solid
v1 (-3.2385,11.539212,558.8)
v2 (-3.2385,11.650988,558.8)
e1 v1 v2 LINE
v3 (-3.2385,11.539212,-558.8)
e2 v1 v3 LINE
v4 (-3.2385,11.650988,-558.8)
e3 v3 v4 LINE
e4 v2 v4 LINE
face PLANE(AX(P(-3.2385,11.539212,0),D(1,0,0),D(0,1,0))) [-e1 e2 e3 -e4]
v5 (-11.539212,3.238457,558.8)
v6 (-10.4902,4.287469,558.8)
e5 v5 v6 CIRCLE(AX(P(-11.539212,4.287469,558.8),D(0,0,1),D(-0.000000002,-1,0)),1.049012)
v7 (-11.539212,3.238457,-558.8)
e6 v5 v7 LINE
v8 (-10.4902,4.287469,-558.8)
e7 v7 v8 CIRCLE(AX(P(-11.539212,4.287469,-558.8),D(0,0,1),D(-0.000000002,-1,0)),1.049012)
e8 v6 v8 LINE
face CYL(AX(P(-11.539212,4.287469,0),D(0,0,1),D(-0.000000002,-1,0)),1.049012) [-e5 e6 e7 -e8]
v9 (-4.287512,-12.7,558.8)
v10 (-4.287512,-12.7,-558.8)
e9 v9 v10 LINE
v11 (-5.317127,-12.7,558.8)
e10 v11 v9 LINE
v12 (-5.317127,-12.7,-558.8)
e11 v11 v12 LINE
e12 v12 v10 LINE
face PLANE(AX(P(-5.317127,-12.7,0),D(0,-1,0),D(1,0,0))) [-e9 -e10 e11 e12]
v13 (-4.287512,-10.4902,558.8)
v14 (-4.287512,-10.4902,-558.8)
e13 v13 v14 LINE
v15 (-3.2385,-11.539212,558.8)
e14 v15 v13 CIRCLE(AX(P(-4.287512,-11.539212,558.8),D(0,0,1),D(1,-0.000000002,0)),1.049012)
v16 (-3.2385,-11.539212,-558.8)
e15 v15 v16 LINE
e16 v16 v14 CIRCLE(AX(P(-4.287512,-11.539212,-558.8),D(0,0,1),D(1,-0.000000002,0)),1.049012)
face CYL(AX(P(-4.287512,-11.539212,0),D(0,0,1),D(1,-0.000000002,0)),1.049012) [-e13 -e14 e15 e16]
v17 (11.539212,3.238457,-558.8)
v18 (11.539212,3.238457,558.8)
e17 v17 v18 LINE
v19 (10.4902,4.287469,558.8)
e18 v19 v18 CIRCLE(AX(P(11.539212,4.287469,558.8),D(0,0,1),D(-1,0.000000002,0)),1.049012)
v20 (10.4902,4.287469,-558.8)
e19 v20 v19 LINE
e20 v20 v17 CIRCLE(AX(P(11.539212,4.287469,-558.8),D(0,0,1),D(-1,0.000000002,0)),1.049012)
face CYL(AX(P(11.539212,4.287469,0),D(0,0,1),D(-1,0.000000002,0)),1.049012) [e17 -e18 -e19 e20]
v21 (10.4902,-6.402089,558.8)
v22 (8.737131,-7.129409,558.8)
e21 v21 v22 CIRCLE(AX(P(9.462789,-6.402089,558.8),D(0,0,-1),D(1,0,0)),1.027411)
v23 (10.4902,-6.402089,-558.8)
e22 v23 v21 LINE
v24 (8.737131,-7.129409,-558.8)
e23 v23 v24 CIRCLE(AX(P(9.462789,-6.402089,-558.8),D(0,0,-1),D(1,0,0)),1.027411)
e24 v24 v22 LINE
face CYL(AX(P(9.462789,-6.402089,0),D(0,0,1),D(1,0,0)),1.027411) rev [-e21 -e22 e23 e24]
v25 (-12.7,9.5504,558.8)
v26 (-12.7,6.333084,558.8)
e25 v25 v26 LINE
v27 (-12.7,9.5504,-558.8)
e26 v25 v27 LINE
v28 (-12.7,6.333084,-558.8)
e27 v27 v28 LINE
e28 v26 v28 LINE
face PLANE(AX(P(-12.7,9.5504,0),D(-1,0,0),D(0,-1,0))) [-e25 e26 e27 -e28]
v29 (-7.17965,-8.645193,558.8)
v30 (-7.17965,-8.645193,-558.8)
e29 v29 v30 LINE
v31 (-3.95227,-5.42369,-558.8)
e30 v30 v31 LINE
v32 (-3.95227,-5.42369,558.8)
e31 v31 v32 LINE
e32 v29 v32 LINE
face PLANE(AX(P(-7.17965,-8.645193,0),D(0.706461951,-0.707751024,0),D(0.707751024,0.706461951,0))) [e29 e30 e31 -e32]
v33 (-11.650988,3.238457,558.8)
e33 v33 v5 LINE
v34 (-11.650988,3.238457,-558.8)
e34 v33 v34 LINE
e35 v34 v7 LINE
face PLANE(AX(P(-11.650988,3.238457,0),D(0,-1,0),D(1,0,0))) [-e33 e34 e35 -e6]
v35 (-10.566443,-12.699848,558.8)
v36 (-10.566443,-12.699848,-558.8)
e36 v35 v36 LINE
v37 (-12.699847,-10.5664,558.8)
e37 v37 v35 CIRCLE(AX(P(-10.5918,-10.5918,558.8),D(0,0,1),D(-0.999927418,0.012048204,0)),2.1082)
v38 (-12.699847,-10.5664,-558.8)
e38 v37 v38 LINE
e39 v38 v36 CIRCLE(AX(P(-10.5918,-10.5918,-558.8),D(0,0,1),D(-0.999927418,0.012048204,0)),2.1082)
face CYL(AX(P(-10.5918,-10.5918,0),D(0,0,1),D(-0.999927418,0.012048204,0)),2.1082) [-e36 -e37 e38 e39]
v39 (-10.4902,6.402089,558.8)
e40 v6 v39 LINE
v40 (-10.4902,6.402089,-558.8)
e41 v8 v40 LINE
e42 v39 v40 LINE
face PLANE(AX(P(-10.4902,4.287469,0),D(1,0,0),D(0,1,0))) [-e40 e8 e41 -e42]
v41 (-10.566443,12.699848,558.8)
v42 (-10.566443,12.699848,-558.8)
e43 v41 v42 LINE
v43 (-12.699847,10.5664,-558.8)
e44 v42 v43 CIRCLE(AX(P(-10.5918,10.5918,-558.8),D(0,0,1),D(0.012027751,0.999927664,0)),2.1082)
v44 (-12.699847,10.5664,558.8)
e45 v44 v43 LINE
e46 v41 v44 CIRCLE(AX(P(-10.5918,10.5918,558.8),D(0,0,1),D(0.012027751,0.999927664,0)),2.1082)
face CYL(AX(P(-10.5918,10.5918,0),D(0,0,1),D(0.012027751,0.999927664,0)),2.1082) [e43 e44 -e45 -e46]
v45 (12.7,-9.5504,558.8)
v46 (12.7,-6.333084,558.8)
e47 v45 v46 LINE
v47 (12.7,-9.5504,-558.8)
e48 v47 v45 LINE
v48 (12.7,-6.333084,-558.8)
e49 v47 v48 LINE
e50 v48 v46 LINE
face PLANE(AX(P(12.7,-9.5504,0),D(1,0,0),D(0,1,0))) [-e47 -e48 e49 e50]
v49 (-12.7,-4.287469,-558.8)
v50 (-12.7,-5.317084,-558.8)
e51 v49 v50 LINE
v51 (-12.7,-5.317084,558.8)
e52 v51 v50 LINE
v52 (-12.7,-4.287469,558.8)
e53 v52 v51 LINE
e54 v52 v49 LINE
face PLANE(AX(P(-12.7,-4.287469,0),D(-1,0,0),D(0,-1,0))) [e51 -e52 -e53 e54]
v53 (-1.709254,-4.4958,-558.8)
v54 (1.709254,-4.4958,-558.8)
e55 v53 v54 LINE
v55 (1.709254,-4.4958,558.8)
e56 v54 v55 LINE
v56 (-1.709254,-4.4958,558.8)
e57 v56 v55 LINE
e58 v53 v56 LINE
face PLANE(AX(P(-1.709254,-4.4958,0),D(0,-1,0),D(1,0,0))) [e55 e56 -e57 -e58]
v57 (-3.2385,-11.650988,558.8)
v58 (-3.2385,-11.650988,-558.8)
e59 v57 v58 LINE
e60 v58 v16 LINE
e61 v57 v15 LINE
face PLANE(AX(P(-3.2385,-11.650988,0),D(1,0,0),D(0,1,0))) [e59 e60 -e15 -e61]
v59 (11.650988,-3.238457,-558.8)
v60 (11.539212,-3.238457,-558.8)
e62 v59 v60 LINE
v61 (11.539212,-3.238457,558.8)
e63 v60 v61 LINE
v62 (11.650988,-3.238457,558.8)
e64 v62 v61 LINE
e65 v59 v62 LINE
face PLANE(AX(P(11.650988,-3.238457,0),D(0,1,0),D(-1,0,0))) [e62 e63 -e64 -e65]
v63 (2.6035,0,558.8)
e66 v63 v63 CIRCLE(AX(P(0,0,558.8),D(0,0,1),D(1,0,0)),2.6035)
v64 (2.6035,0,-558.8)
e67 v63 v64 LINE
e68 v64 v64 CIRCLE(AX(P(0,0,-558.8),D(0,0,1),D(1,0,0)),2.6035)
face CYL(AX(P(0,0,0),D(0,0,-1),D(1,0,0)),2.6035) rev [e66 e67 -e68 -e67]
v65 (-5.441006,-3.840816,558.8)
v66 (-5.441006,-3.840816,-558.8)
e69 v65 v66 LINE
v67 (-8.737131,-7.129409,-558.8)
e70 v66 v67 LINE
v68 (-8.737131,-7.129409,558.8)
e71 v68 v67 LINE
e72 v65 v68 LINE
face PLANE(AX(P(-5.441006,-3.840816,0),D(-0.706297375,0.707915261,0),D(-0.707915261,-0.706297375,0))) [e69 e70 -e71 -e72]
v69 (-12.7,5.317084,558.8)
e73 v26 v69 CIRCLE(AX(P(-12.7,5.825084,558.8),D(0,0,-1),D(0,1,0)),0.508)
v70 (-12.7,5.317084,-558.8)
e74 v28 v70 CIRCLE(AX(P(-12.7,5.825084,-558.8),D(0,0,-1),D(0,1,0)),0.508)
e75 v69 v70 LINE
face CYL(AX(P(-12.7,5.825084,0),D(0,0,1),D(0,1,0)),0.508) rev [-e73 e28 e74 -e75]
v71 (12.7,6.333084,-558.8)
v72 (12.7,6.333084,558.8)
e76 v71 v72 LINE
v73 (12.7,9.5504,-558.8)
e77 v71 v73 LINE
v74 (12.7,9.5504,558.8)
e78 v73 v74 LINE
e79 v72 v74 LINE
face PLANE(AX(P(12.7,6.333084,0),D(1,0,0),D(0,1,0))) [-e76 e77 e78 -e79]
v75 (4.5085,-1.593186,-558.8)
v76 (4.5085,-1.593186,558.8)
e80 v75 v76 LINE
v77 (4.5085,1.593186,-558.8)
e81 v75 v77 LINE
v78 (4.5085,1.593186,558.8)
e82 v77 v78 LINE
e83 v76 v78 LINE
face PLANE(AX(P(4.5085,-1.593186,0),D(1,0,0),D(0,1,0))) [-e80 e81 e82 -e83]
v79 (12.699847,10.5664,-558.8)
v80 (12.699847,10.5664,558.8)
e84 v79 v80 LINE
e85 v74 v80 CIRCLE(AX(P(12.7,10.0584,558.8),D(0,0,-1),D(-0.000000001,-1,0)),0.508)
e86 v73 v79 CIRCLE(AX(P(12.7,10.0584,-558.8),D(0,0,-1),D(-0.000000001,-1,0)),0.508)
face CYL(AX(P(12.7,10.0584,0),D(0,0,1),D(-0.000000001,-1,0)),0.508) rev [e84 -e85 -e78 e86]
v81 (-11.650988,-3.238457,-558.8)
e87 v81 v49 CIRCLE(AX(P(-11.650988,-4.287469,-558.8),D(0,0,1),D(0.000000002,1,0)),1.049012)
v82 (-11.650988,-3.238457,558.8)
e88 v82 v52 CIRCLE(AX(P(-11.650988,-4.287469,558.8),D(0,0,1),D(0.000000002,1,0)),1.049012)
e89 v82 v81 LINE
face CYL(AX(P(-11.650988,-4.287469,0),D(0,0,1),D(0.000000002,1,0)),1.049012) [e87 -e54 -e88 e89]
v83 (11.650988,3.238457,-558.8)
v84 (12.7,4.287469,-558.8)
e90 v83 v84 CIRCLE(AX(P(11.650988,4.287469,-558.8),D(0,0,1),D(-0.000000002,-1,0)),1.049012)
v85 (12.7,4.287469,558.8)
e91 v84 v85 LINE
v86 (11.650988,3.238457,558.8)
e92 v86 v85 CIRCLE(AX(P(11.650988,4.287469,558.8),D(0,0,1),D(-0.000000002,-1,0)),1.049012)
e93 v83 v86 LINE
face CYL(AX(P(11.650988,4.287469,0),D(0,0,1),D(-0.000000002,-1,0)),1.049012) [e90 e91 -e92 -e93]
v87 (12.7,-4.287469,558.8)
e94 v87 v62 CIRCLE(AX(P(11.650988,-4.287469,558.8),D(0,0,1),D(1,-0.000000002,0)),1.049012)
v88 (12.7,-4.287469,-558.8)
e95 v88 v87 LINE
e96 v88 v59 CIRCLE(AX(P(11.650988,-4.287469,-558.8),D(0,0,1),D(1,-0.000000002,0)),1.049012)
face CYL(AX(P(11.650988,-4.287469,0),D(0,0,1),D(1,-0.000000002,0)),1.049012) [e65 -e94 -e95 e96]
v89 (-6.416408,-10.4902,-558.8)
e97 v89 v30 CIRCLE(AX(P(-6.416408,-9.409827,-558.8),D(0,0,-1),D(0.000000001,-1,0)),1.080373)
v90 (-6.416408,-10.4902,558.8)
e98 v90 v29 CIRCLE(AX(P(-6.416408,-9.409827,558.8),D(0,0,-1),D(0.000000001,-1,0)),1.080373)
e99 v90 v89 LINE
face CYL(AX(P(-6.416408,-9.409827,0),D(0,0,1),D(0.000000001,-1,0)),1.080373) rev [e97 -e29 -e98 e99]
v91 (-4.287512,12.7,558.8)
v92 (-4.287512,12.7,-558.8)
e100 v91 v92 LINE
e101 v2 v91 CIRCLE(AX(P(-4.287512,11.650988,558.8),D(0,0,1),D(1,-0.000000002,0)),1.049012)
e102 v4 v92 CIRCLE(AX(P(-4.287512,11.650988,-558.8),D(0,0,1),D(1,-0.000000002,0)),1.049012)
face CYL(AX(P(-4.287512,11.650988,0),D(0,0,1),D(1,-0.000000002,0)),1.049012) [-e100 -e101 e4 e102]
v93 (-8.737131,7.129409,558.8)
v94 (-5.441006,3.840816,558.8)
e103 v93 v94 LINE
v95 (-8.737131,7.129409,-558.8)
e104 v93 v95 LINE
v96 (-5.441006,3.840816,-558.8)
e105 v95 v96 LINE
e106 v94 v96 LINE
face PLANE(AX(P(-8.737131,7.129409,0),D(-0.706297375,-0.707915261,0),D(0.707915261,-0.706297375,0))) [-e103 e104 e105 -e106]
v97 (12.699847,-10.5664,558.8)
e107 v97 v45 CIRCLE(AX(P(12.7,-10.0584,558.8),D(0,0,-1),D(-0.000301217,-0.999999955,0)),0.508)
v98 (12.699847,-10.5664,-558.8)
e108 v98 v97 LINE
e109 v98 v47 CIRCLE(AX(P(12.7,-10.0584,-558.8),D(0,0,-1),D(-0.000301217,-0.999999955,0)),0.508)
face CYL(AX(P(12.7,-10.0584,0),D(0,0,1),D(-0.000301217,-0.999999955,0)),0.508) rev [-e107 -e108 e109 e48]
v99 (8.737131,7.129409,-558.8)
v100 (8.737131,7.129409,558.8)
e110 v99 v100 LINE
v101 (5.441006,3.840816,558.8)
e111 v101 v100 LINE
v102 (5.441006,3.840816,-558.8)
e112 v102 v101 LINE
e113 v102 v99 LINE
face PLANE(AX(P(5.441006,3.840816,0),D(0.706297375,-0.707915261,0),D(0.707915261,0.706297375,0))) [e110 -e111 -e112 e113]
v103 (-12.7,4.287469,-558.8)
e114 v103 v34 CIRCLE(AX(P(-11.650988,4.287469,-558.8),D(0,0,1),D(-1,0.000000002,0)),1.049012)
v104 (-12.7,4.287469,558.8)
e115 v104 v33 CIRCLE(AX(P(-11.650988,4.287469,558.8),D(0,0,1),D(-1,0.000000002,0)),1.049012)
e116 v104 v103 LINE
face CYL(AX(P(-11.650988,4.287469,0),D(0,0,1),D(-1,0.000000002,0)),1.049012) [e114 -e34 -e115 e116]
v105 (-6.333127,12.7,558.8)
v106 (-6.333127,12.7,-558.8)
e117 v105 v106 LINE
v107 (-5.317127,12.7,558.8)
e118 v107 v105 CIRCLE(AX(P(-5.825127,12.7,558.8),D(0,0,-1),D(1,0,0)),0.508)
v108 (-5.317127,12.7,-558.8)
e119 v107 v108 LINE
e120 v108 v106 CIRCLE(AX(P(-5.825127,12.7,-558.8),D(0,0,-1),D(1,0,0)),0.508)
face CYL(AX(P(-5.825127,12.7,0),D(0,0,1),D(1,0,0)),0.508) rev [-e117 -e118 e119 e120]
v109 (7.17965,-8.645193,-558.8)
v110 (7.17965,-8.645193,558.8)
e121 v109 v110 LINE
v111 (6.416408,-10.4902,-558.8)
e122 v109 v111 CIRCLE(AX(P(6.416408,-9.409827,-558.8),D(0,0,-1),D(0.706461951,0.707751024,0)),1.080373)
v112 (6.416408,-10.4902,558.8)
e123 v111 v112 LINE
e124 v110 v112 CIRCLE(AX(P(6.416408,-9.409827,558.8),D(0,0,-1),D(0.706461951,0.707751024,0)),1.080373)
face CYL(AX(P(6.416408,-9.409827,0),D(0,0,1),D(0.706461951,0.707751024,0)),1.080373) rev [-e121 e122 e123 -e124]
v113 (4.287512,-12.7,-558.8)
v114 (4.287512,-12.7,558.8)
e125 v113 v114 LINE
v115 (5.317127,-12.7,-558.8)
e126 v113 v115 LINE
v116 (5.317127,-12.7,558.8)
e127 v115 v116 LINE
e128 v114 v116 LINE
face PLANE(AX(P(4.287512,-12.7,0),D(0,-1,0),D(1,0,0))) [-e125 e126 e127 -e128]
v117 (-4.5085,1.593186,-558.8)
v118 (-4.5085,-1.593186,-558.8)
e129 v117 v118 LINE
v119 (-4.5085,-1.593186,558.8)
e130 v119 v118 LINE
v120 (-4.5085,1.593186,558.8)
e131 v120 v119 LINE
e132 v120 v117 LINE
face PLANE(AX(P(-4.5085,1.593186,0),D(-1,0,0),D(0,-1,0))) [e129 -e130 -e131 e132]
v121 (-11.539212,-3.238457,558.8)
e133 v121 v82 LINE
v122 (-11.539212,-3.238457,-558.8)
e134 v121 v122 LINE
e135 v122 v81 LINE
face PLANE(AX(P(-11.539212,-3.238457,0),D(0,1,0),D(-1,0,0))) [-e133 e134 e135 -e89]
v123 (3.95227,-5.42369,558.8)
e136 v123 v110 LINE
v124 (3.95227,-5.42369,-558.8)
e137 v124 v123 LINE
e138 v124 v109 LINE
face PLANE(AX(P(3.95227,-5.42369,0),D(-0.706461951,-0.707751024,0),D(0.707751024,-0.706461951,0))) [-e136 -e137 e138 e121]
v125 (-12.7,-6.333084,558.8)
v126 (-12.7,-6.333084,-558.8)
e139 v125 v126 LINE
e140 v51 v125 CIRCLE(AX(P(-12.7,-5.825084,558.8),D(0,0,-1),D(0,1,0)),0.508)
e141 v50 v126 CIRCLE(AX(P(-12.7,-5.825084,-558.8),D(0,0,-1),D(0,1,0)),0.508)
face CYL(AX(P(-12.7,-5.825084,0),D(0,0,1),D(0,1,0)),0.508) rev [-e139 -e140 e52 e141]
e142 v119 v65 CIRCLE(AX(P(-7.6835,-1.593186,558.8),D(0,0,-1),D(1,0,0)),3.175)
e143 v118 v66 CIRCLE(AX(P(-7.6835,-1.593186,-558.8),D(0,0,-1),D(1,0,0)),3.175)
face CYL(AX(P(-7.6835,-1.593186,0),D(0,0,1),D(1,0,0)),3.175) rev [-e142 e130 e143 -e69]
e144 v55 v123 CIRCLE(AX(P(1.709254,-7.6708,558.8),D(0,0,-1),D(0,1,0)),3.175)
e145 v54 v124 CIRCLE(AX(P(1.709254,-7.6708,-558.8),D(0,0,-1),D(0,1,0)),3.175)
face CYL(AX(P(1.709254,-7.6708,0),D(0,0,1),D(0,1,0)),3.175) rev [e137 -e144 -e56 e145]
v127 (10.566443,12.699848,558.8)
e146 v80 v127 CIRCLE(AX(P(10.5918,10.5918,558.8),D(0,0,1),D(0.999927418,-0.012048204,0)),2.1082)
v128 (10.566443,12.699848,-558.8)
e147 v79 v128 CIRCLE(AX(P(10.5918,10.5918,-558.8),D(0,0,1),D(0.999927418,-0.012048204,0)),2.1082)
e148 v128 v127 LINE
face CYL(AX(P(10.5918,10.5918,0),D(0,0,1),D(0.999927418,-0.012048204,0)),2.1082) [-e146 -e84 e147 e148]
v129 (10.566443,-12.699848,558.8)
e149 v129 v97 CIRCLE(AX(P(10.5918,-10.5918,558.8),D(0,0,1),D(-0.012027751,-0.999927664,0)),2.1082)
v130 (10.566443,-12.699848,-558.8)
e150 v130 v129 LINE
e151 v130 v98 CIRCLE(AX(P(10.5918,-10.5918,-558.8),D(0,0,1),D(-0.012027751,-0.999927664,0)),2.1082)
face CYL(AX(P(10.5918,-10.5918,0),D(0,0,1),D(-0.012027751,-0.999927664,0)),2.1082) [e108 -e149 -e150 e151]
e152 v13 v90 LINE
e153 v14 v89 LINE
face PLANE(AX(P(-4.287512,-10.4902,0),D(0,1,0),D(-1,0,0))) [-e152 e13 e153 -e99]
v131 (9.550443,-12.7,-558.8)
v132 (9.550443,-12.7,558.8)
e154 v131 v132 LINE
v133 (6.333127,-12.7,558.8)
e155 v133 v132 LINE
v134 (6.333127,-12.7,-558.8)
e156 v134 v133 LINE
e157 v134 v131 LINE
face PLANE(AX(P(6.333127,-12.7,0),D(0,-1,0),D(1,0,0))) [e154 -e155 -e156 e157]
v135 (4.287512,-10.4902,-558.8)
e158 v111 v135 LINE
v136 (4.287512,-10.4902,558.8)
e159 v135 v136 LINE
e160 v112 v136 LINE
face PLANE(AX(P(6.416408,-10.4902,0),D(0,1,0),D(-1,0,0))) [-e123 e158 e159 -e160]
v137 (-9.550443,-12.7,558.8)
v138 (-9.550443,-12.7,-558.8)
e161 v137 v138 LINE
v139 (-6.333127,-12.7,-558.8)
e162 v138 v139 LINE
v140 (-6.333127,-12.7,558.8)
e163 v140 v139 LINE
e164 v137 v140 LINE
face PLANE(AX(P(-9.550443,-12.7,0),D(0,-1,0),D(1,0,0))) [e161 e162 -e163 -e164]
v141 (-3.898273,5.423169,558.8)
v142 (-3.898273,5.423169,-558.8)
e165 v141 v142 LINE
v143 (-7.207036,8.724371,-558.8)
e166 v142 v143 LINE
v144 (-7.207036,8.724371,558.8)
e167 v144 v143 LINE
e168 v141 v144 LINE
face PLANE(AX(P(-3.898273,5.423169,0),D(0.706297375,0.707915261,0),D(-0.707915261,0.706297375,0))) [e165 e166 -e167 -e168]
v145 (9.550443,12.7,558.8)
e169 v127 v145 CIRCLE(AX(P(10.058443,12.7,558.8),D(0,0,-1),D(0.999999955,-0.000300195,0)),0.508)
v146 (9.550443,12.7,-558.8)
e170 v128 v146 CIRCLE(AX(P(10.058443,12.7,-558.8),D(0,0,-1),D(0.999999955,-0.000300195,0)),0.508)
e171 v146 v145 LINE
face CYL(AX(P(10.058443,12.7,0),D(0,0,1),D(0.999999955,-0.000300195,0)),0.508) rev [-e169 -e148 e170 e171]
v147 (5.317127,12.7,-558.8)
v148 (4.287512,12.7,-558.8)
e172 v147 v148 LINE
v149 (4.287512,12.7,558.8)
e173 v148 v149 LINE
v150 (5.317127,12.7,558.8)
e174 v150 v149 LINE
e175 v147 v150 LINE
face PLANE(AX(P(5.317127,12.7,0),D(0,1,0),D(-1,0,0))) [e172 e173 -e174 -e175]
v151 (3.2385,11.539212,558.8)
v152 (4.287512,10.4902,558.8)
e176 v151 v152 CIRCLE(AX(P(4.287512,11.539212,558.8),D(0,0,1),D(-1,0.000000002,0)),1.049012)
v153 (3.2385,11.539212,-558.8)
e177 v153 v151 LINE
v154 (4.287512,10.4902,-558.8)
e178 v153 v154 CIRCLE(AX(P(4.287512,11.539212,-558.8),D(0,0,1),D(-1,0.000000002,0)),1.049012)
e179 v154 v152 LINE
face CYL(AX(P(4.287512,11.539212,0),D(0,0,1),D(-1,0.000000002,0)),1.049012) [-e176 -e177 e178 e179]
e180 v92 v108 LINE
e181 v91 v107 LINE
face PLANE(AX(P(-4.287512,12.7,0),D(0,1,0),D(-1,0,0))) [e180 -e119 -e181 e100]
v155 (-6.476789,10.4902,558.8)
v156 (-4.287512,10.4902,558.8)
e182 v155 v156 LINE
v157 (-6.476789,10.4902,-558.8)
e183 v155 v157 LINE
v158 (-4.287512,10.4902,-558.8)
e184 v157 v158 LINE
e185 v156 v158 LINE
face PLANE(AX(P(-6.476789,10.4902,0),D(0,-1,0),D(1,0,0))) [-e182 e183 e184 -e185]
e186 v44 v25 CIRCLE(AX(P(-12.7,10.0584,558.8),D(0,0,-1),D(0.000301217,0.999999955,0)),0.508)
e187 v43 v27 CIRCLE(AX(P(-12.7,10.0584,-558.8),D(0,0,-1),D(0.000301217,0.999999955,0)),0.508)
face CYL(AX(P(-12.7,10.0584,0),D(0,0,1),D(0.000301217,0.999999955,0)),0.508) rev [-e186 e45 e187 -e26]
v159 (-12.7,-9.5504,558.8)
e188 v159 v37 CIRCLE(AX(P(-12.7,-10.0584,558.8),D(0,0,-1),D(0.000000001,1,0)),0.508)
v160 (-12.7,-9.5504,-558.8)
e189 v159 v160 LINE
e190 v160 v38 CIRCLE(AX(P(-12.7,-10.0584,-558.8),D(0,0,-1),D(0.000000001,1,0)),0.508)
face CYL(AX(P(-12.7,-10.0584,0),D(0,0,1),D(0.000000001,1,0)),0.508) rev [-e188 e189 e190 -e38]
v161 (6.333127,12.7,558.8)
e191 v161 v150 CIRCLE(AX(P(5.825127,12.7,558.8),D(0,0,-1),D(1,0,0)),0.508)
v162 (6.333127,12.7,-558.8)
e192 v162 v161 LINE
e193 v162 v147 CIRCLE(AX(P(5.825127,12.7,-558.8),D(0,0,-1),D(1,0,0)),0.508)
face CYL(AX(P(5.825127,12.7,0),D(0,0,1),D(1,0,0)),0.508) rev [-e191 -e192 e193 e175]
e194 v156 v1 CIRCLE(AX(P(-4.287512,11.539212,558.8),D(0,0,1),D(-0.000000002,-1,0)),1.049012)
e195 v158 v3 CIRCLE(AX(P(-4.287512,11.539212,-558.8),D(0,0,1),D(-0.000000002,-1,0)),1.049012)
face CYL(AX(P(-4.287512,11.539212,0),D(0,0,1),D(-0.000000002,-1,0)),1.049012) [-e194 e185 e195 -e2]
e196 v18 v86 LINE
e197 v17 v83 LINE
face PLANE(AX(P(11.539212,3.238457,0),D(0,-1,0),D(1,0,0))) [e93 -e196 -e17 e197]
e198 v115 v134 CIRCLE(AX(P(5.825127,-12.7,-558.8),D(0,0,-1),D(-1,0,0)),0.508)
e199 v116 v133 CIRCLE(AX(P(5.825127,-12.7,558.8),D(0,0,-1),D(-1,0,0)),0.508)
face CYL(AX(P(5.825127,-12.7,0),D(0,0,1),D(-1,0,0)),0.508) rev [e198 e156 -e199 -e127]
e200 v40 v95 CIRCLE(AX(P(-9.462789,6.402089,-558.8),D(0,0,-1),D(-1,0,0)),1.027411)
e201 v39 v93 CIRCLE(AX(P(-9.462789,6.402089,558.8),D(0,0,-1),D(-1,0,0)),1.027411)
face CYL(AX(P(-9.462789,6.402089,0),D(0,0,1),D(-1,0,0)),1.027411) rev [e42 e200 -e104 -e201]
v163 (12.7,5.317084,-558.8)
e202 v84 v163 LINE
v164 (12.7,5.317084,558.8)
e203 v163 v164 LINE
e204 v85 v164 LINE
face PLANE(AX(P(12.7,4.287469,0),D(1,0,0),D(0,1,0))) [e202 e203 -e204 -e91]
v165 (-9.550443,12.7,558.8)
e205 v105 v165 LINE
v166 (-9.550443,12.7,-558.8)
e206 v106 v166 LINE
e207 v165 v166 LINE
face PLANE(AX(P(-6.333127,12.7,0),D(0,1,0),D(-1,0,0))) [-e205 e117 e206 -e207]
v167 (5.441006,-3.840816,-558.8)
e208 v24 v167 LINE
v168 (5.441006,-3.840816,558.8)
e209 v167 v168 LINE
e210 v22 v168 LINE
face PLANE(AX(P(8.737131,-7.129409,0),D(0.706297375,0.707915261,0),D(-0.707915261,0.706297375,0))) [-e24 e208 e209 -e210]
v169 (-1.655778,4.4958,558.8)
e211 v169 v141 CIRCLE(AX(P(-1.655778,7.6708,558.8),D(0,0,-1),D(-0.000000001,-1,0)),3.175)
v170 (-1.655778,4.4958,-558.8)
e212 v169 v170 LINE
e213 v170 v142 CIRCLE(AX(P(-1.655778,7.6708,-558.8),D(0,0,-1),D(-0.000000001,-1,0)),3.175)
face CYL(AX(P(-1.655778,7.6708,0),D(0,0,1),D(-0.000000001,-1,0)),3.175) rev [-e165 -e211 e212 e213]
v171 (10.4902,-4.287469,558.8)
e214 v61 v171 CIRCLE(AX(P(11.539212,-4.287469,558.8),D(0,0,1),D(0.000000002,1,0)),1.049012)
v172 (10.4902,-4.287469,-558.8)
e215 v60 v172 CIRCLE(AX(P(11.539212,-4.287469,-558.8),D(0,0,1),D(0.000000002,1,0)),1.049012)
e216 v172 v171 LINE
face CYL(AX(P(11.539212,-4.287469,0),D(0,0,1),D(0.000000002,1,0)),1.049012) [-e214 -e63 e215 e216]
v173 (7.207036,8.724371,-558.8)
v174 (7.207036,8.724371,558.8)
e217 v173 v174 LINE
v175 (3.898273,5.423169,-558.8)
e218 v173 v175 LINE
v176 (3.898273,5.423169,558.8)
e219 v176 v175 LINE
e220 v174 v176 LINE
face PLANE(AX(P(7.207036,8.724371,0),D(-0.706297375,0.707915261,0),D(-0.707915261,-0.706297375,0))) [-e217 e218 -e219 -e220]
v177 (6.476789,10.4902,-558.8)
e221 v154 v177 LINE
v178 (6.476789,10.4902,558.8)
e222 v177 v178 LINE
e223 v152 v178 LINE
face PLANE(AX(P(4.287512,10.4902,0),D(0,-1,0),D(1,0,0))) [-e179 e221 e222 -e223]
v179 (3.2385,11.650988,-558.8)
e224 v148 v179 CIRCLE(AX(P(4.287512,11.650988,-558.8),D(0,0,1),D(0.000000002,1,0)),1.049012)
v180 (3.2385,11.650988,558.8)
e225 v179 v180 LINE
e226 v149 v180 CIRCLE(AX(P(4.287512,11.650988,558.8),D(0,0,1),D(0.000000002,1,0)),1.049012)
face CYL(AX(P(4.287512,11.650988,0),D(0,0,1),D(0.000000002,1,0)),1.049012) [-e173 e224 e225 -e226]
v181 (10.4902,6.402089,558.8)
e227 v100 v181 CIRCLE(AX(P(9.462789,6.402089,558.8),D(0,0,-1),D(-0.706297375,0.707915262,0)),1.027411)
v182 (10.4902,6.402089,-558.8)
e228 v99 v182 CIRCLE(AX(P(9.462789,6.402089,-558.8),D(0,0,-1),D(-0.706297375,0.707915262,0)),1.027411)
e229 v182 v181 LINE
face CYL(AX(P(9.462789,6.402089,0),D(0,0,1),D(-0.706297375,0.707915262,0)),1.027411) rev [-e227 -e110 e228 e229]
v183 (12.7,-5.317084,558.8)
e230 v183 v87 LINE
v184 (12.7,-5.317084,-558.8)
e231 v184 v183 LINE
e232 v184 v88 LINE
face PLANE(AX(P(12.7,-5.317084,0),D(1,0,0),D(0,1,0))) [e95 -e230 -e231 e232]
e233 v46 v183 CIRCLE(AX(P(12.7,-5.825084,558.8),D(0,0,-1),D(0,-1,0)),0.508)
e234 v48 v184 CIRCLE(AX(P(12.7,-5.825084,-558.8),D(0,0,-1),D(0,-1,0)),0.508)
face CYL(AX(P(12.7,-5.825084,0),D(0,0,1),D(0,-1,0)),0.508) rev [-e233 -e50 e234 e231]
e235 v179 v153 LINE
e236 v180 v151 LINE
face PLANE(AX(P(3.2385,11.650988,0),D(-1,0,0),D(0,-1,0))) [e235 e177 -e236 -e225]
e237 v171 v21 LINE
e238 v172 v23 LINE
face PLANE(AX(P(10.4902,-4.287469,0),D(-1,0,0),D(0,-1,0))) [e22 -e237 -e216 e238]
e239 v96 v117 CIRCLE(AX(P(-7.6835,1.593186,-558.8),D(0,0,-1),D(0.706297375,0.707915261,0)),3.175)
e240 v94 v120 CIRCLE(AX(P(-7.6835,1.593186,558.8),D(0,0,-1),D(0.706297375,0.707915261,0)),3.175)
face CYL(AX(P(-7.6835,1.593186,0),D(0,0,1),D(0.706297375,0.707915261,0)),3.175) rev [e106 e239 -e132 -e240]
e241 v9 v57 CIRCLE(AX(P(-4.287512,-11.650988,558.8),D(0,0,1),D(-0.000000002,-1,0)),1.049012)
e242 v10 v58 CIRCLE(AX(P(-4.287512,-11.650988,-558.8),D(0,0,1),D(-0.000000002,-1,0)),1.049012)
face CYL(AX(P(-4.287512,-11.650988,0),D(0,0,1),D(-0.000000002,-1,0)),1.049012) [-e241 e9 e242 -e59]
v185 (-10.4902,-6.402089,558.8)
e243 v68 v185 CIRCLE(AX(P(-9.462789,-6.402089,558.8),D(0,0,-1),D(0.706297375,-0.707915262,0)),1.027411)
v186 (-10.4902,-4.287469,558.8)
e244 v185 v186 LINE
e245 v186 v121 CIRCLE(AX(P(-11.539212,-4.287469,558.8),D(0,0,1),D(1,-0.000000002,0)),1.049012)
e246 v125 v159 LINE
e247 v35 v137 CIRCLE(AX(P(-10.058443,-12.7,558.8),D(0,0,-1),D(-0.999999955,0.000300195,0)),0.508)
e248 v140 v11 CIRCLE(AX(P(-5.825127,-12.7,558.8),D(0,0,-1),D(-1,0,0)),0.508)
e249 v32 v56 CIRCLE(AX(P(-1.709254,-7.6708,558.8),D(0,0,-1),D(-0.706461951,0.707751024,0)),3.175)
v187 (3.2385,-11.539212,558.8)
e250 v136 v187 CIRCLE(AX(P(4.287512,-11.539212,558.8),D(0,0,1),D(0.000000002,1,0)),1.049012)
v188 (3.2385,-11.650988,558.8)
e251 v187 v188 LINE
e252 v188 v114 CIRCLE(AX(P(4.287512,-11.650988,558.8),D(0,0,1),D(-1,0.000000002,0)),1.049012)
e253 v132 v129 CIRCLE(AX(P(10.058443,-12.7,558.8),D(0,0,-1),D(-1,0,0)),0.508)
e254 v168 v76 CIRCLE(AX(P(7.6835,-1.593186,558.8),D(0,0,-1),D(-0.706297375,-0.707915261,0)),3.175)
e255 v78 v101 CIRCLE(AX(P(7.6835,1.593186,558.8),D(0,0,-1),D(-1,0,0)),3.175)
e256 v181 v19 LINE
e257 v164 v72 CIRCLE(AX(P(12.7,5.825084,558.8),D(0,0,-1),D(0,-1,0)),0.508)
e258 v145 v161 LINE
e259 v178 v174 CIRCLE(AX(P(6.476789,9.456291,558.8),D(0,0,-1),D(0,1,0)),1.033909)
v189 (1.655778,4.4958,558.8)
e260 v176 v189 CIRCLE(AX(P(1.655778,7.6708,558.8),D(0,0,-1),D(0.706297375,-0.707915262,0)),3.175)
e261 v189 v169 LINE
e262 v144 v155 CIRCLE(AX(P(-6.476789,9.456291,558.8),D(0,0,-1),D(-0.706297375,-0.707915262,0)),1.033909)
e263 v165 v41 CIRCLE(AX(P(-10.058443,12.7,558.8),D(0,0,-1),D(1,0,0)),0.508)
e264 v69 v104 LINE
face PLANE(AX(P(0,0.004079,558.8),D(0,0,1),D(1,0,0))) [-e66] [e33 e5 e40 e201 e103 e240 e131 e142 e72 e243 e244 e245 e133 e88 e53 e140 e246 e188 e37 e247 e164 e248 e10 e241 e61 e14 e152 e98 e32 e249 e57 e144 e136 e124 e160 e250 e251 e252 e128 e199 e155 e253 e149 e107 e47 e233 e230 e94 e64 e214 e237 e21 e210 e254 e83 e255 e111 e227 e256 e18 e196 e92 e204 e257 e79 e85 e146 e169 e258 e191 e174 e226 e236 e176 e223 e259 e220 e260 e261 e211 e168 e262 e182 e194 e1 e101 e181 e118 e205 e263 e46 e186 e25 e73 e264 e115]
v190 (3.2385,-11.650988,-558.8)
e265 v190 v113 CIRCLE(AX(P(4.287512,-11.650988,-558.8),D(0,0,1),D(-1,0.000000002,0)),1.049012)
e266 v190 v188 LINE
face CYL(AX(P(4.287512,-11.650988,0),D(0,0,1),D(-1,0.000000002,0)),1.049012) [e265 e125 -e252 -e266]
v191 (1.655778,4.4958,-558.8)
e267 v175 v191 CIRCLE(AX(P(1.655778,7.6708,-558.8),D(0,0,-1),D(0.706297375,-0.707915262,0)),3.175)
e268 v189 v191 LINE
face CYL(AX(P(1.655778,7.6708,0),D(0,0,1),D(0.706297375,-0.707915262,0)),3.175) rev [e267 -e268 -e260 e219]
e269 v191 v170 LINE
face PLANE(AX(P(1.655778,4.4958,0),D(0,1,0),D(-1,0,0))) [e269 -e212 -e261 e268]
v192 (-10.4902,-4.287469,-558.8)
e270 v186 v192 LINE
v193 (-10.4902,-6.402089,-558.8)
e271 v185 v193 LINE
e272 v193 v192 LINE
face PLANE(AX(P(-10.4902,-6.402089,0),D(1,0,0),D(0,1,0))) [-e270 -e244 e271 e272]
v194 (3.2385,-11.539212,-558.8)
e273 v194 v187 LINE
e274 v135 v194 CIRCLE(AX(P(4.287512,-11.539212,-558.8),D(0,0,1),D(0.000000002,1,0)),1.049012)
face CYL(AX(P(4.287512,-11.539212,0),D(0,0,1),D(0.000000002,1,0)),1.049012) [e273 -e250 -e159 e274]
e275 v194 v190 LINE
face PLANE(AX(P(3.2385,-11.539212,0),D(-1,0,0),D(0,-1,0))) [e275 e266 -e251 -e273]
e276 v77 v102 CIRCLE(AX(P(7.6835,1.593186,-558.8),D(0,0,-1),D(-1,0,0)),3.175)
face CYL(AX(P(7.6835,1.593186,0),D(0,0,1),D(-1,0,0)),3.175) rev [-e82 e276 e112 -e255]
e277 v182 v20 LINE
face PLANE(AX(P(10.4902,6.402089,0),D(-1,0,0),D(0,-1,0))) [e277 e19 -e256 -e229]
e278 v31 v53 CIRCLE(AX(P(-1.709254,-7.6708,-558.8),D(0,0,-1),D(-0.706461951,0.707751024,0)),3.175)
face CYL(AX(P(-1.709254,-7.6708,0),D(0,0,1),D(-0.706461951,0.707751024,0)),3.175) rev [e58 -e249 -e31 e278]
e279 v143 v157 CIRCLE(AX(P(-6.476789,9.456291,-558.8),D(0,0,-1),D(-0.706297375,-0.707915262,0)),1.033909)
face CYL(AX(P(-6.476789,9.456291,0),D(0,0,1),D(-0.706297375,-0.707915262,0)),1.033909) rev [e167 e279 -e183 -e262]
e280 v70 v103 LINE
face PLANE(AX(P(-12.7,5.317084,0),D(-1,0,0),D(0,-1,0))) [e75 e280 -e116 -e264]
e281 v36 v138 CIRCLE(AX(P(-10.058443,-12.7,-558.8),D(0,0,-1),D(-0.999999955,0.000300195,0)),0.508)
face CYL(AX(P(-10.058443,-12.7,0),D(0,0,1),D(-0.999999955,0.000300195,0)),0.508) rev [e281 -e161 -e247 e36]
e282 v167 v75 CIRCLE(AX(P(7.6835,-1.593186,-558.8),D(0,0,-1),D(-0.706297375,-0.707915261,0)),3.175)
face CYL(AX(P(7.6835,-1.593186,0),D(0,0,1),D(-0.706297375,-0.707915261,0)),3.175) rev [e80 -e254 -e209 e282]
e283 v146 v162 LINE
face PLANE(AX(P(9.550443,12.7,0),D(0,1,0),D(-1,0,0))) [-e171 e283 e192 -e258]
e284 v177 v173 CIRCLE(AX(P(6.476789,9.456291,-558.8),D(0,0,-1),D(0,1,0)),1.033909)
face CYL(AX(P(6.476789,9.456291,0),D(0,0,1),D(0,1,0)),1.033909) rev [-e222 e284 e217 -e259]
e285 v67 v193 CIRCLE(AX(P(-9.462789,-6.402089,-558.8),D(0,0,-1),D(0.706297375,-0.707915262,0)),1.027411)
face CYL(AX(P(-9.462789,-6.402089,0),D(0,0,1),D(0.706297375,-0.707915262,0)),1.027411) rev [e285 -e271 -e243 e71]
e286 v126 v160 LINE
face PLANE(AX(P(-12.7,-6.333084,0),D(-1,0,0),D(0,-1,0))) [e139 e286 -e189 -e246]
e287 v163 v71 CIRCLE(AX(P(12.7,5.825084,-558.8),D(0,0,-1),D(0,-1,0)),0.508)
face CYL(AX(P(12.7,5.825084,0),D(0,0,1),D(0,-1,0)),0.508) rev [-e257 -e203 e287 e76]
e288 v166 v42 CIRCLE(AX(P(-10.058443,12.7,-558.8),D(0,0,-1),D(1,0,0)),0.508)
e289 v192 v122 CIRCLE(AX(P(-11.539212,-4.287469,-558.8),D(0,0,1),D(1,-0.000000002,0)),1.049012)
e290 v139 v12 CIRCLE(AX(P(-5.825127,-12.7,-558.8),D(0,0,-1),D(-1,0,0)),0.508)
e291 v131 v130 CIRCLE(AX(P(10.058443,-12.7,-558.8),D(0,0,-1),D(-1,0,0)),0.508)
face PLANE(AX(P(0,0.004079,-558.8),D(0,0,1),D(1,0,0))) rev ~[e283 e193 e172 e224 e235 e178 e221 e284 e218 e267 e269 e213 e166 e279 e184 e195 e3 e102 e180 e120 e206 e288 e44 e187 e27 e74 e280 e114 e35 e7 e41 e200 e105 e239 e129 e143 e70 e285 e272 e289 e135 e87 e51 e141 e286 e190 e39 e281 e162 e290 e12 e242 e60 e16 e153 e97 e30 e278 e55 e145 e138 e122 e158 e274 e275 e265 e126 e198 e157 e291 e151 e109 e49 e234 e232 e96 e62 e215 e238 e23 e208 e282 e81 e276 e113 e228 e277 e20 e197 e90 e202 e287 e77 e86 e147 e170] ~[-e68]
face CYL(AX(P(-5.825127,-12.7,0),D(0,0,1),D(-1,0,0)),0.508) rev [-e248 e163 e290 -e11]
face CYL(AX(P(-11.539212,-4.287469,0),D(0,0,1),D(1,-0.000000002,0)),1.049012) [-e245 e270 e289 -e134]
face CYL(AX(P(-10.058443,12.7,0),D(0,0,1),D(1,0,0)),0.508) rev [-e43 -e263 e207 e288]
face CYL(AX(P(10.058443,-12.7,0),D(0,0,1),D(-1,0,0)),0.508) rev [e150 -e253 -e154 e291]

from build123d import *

# Parameters (mm, degrees)
SKETCH1_R           = 2.6035
BOSS_EXTRUDE1_DEPTH = 558.8


with BuildPart() as part:
    # Sketch1 → Boss-Extrude1 (new body, symmetric)
    with BuildSketch(Plane.XY):
        with BuildLine():
            Line((-7.179650497, -8.645192506), (-3.952270251, -5.423690499))
            ThreePointArc((-3.952270251, -5.423690499), (-2.922936451, -4.736929036), (-1.709253557, -4.4958))
            Line((-1.709253557, -4.4958), (1.709253557, -4.4958))
            ThreePointArc((1.709253557, -4.4958), (2.922936451, -4.736929036), (3.952270251, -5.423690499))
            Line((3.952270251, -5.423690499), (7.179650497, -8.645192506))
            ThreePointArc((7.179650497, -8.645192506), (7.41473083, -9.822813117), (6.416408329, -10.4902))
            Line((6.416408329, -10.4902), (4.287512407, -10.4902))
            ThreePointArc((4.287512407, -10.4902), (3.54574862, -10.79744862), (3.2385, -11.539212407))
            Line((3.2385, -11.539212407), (3.2385, -11.650987593))
            ThreePointArc((3.2385, -11.650987593), (3.54574862, -12.39275138), (4.287512407, -12.7))
            Line((4.287512407, -12.7), (5.317126718, -12.7))
            ThreePointArc((5.317126718, -12.7), (5.825126718, -12.192), (6.333126718, -12.7))
            Line((6.333126718, -12.7), (9.550443118, -12.7))
            ThreePointArc((9.550443118, -12.7), (10.058366869, -12.192000006), (10.566443095, -12.699847501))
            ThreePointArc((10.566443095, -12.699847501), (12.082537762, -12.08250727), (12.699846982, -10.566399977))
            ThreePointArc((12.699846982, -10.566399977), (12.192000006, -10.058323491), (12.7, -9.5504))
            Line((12.7, -9.5504), (12.7, -6.3330836))
            ThreePointArc((12.7, -6.3330836), (12.192, -5.8250836), (12.7, -5.3170836))
            Line((12.7, -5.3170836), (12.7, -4.287469289))
            ThreePointArc((12.7, -4.287469289), (12.39275138, -3.545705502), (11.650987593, -3.238456882))
            Line((11.650987593, -3.238456882), (11.539212407, -3.238456882))
            ThreePointArc((11.539212407, -3.238456882), (10.79744862, -3.545705502), (10.4902, -4.287469289))
            Line((10.4902, -4.287469289), (10.4902, -6.402089023))
            ThreePointArc((10.4902, -6.402089023), (9.856505071, -7.351067942), (8.737131347, -7.129408934))
            Line((8.737131347, -7.129408934), (5.441005833, -3.840816462))
            ThreePointArc((5.441005833, -3.840816462), (4.750877967, -2.809883091), (4.5085, -1.593185507))
            Line((4.5085, -1.593185507), (4.5085, 1.593185507))
            ThreePointArc((4.5085, 1.593185507), (4.750877967, 2.809883091), (5.441005833, 3.840816462))
            Line((5.441005833, 3.840816462), (8.737131347, 7.129408934))
            ThreePointArc((8.737131347, 7.129408934), (9.856505071, 7.351067942), (10.4902, 6.402089023))
            Line((10.4902, 6.402089023), (10.4902, 4.287469289))
            ThreePointArc((10.4902, 4.287469289), (10.79744862, 3.545705502), (11.539212407, 3.238456882))
            Line((11.539212407, 3.238456882), (11.650987593, 3.238456882))
            ThreePointArc((11.650987593, 3.238456882), (12.39275138, 3.545705502), (12.7, 4.287469289))
            Line((12.7, 4.287469289), (12.7, 5.3170836))
            ThreePointArc((12.7, 5.3170836), (12.192, 5.8250836), (12.7, 6.3330836))
            Line((12.7, 6.3330836), (12.7, 9.5504))
            ThreePointArc((12.7, 9.5504), (12.192000006, 10.058323491), (12.699846982, 10.566399977))
            ThreePointArc((12.699846982, 10.566399977), (12.082537762, 12.08250727), (10.566443095, 12.699847501))
            ThreePointArc((10.566443095, 12.699847501), (10.058366869, 12.192000006), (9.550443118, 12.7))
            Line((9.550443118, 12.7), (6.333126718, 12.7))
            ThreePointArc((6.333126718, 12.7), (5.825126718, 12.192), (5.317126718, 12.7))
            Line((5.317126718, 12.7), (4.287512407, 12.7))
            ThreePointArc((4.287512407, 12.7), (3.54574862, 12.39275138), (3.2385, 11.650987593))
            Line((3.2385, 11.650987593), (3.2385, 11.539212407))
            ThreePointArc((3.2385, 11.539212407), (3.54574862, 10.79744862), (4.287512407, 10.4902))
            Line((4.287512407, 10.4902), (6.476788598, 10.4902))
            ThreePointArc((6.476788598, 10.4902), (7.432222385, 9.85140422), (7.207036008, 8.724370562))
            Line((7.207036008, 8.724370562), (3.898272566, 5.423169045))
            ThreePointArc((3.898272566, 5.423169045), (2.869120213, 4.736787962), (1.655778399, 4.4958))
            Line((1.655778399, 4.4958), (-1.655778399, 4.4958))
            ThreePointArc((-1.655778399, 4.4958), (-2.869120213, 4.736787962), (-3.898272566, 5.423169045))
            Line((-3.898272566, 5.423169045), (-7.207036008, 8.724370562))
            ThreePointArc((-7.207036008, 8.724370562), (-7.432222385, 9.85140422), (-6.476788598, 10.4902))
            Line((-6.476788598, 10.4902), (-4.287512407, 10.4902))
            ThreePointArc((-4.287512407, 10.4902), (-3.54574862, 10.79744862), (-3.2385, 11.539212407))
            Line((-3.2385, 11.539212407), (-3.2385, 11.650987593))
            ThreePointArc((-3.2385, 11.650987593), (-3.54574862, 12.39275138), (-4.287512407, 12.7))
            Line((-4.287512407, 12.7), (-5.317126718, 12.7))
            ThreePointArc((-5.317126718, 12.7), (-5.825126718, 12.192), (-6.333126718, 12.7))
            Line((-6.333126718, 12.7), (-9.550443118, 12.7))
            ThreePointArc((-9.550443118, 12.7), (-10.058366869, 12.192000006), (-10.566443095, 12.699847501))
            ThreePointArc((-10.566443095, 12.699847501), (-12.082537762, 12.08250727), (-12.699846982, 10.566399977))
            ThreePointArc((-12.699846982, 10.566399977), (-12.192000006, 10.058323491), (-12.7, 9.5504))
            Line((-12.7, 9.5504), (-12.7, 6.3330836))
            ThreePointArc((-12.7, 6.3330836), (-12.192, 5.8250836), (-12.7, 5.3170836))
            Line((-12.7, 5.3170836), (-12.7, 4.287469289))
            ThreePointArc((-12.7, 4.287469289), (-12.39275138, 3.545705502), (-11.650987593, 3.238456882))
            Line((-11.650987593, 3.238456882), (-11.539212407, 3.238456882))
            ThreePointArc((-11.539212407, 3.238456882), (-10.79744862, 3.545705502), (-10.4902, 4.287469289))
            Line((-10.4902, 4.287469289), (-10.4902, 6.402089023))
            ThreePointArc((-10.4902, 6.402089023), (-9.856505071, 7.351067942), (-8.737131347, 7.129408934))
            Line((-8.737131347, 7.129408934), (-5.441005833, 3.840816462))
            ThreePointArc((-5.441005833, 3.840816462), (-4.750877967, 2.809883091), (-4.5085, 1.593185507))
            Line((-4.5085, 1.593185507), (-4.5085, -1.593185507))
            ThreePointArc((-4.5085, -1.593185507), (-4.750877967, -2.809883091), (-5.441005833, -3.840816462))
            Line((-5.441005833, -3.840816462), (-8.737131347, -7.129408934))
            ThreePointArc((-8.737131347, -7.129408934), (-9.856505071, -7.351067942), (-10.4902, -6.402089023))
            Line((-10.4902, -6.402089023), (-10.4902, -4.287469289))
            ThreePointArc((-10.4902, -4.287469289), (-10.79744862, -3.545705502), (-11.539212407, -3.238456882))
            Line((-11.539212407, -3.238456882), (-11.650987593, -3.238456882))
            ThreePointArc((-11.650987593, -3.238456882), (-12.39275138, -3.545705502), (-12.7, -4.287469289))
            Line((-12.7, -4.287469289), (-12.7, -5.3170836))
            ThreePointArc((-12.7, -5.3170836), (-12.192, -5.8250836), (-12.7, -6.3330836))
            Line((-12.7, -6.3330836), (-12.7, -9.5504))
            ThreePointArc((-12.7, -9.5504), (-12.192000006, -10.058323491), (-12.699846982, -10.566399977))
            ThreePointArc((-12.699846982, -10.566399977), (-12.082537762, -12.08250727), (-10.566443095, -12.699847501))
            ThreePointArc((-10.566443095, -12.699847501), (-10.058366869, -12.192000006), (-9.550443118, -12.7))
            Line((-9.550443118, -12.7), (-6.333126718, -12.7))
            ThreePointArc((-6.333126718, -12.7), (-5.825126718, -12.192), (-5.317126718, -12.7))
            Line((-5.317126718, -12.7), (-4.287512407, -12.7))
            ThreePointArc((-4.287512407, -12.7), (-3.54574862, -12.39275138), (-3.2385, -11.650987593))
            Line((-3.2385, -11.650987593), (-3.2385, -11.539212407))
            ThreePointArc((-3.2385, -11.539212407), (-3.54574862, -10.79744862), (-4.287512407, -10.4902))
            Line((-4.287512407, -10.4902), (-6.416408329, -10.4902))
            ThreePointArc((-6.416408329, -10.4902), (-7.41473083, -9.822813117), (-7.179650497, -8.645192506))
        make_face()
        Circle(SKETCH1_R, mode=Mode.SUBTRACT)
    extrude(amount=BOSS_EXTRUDE1_DEPTH, both=True)


solid = part.part
